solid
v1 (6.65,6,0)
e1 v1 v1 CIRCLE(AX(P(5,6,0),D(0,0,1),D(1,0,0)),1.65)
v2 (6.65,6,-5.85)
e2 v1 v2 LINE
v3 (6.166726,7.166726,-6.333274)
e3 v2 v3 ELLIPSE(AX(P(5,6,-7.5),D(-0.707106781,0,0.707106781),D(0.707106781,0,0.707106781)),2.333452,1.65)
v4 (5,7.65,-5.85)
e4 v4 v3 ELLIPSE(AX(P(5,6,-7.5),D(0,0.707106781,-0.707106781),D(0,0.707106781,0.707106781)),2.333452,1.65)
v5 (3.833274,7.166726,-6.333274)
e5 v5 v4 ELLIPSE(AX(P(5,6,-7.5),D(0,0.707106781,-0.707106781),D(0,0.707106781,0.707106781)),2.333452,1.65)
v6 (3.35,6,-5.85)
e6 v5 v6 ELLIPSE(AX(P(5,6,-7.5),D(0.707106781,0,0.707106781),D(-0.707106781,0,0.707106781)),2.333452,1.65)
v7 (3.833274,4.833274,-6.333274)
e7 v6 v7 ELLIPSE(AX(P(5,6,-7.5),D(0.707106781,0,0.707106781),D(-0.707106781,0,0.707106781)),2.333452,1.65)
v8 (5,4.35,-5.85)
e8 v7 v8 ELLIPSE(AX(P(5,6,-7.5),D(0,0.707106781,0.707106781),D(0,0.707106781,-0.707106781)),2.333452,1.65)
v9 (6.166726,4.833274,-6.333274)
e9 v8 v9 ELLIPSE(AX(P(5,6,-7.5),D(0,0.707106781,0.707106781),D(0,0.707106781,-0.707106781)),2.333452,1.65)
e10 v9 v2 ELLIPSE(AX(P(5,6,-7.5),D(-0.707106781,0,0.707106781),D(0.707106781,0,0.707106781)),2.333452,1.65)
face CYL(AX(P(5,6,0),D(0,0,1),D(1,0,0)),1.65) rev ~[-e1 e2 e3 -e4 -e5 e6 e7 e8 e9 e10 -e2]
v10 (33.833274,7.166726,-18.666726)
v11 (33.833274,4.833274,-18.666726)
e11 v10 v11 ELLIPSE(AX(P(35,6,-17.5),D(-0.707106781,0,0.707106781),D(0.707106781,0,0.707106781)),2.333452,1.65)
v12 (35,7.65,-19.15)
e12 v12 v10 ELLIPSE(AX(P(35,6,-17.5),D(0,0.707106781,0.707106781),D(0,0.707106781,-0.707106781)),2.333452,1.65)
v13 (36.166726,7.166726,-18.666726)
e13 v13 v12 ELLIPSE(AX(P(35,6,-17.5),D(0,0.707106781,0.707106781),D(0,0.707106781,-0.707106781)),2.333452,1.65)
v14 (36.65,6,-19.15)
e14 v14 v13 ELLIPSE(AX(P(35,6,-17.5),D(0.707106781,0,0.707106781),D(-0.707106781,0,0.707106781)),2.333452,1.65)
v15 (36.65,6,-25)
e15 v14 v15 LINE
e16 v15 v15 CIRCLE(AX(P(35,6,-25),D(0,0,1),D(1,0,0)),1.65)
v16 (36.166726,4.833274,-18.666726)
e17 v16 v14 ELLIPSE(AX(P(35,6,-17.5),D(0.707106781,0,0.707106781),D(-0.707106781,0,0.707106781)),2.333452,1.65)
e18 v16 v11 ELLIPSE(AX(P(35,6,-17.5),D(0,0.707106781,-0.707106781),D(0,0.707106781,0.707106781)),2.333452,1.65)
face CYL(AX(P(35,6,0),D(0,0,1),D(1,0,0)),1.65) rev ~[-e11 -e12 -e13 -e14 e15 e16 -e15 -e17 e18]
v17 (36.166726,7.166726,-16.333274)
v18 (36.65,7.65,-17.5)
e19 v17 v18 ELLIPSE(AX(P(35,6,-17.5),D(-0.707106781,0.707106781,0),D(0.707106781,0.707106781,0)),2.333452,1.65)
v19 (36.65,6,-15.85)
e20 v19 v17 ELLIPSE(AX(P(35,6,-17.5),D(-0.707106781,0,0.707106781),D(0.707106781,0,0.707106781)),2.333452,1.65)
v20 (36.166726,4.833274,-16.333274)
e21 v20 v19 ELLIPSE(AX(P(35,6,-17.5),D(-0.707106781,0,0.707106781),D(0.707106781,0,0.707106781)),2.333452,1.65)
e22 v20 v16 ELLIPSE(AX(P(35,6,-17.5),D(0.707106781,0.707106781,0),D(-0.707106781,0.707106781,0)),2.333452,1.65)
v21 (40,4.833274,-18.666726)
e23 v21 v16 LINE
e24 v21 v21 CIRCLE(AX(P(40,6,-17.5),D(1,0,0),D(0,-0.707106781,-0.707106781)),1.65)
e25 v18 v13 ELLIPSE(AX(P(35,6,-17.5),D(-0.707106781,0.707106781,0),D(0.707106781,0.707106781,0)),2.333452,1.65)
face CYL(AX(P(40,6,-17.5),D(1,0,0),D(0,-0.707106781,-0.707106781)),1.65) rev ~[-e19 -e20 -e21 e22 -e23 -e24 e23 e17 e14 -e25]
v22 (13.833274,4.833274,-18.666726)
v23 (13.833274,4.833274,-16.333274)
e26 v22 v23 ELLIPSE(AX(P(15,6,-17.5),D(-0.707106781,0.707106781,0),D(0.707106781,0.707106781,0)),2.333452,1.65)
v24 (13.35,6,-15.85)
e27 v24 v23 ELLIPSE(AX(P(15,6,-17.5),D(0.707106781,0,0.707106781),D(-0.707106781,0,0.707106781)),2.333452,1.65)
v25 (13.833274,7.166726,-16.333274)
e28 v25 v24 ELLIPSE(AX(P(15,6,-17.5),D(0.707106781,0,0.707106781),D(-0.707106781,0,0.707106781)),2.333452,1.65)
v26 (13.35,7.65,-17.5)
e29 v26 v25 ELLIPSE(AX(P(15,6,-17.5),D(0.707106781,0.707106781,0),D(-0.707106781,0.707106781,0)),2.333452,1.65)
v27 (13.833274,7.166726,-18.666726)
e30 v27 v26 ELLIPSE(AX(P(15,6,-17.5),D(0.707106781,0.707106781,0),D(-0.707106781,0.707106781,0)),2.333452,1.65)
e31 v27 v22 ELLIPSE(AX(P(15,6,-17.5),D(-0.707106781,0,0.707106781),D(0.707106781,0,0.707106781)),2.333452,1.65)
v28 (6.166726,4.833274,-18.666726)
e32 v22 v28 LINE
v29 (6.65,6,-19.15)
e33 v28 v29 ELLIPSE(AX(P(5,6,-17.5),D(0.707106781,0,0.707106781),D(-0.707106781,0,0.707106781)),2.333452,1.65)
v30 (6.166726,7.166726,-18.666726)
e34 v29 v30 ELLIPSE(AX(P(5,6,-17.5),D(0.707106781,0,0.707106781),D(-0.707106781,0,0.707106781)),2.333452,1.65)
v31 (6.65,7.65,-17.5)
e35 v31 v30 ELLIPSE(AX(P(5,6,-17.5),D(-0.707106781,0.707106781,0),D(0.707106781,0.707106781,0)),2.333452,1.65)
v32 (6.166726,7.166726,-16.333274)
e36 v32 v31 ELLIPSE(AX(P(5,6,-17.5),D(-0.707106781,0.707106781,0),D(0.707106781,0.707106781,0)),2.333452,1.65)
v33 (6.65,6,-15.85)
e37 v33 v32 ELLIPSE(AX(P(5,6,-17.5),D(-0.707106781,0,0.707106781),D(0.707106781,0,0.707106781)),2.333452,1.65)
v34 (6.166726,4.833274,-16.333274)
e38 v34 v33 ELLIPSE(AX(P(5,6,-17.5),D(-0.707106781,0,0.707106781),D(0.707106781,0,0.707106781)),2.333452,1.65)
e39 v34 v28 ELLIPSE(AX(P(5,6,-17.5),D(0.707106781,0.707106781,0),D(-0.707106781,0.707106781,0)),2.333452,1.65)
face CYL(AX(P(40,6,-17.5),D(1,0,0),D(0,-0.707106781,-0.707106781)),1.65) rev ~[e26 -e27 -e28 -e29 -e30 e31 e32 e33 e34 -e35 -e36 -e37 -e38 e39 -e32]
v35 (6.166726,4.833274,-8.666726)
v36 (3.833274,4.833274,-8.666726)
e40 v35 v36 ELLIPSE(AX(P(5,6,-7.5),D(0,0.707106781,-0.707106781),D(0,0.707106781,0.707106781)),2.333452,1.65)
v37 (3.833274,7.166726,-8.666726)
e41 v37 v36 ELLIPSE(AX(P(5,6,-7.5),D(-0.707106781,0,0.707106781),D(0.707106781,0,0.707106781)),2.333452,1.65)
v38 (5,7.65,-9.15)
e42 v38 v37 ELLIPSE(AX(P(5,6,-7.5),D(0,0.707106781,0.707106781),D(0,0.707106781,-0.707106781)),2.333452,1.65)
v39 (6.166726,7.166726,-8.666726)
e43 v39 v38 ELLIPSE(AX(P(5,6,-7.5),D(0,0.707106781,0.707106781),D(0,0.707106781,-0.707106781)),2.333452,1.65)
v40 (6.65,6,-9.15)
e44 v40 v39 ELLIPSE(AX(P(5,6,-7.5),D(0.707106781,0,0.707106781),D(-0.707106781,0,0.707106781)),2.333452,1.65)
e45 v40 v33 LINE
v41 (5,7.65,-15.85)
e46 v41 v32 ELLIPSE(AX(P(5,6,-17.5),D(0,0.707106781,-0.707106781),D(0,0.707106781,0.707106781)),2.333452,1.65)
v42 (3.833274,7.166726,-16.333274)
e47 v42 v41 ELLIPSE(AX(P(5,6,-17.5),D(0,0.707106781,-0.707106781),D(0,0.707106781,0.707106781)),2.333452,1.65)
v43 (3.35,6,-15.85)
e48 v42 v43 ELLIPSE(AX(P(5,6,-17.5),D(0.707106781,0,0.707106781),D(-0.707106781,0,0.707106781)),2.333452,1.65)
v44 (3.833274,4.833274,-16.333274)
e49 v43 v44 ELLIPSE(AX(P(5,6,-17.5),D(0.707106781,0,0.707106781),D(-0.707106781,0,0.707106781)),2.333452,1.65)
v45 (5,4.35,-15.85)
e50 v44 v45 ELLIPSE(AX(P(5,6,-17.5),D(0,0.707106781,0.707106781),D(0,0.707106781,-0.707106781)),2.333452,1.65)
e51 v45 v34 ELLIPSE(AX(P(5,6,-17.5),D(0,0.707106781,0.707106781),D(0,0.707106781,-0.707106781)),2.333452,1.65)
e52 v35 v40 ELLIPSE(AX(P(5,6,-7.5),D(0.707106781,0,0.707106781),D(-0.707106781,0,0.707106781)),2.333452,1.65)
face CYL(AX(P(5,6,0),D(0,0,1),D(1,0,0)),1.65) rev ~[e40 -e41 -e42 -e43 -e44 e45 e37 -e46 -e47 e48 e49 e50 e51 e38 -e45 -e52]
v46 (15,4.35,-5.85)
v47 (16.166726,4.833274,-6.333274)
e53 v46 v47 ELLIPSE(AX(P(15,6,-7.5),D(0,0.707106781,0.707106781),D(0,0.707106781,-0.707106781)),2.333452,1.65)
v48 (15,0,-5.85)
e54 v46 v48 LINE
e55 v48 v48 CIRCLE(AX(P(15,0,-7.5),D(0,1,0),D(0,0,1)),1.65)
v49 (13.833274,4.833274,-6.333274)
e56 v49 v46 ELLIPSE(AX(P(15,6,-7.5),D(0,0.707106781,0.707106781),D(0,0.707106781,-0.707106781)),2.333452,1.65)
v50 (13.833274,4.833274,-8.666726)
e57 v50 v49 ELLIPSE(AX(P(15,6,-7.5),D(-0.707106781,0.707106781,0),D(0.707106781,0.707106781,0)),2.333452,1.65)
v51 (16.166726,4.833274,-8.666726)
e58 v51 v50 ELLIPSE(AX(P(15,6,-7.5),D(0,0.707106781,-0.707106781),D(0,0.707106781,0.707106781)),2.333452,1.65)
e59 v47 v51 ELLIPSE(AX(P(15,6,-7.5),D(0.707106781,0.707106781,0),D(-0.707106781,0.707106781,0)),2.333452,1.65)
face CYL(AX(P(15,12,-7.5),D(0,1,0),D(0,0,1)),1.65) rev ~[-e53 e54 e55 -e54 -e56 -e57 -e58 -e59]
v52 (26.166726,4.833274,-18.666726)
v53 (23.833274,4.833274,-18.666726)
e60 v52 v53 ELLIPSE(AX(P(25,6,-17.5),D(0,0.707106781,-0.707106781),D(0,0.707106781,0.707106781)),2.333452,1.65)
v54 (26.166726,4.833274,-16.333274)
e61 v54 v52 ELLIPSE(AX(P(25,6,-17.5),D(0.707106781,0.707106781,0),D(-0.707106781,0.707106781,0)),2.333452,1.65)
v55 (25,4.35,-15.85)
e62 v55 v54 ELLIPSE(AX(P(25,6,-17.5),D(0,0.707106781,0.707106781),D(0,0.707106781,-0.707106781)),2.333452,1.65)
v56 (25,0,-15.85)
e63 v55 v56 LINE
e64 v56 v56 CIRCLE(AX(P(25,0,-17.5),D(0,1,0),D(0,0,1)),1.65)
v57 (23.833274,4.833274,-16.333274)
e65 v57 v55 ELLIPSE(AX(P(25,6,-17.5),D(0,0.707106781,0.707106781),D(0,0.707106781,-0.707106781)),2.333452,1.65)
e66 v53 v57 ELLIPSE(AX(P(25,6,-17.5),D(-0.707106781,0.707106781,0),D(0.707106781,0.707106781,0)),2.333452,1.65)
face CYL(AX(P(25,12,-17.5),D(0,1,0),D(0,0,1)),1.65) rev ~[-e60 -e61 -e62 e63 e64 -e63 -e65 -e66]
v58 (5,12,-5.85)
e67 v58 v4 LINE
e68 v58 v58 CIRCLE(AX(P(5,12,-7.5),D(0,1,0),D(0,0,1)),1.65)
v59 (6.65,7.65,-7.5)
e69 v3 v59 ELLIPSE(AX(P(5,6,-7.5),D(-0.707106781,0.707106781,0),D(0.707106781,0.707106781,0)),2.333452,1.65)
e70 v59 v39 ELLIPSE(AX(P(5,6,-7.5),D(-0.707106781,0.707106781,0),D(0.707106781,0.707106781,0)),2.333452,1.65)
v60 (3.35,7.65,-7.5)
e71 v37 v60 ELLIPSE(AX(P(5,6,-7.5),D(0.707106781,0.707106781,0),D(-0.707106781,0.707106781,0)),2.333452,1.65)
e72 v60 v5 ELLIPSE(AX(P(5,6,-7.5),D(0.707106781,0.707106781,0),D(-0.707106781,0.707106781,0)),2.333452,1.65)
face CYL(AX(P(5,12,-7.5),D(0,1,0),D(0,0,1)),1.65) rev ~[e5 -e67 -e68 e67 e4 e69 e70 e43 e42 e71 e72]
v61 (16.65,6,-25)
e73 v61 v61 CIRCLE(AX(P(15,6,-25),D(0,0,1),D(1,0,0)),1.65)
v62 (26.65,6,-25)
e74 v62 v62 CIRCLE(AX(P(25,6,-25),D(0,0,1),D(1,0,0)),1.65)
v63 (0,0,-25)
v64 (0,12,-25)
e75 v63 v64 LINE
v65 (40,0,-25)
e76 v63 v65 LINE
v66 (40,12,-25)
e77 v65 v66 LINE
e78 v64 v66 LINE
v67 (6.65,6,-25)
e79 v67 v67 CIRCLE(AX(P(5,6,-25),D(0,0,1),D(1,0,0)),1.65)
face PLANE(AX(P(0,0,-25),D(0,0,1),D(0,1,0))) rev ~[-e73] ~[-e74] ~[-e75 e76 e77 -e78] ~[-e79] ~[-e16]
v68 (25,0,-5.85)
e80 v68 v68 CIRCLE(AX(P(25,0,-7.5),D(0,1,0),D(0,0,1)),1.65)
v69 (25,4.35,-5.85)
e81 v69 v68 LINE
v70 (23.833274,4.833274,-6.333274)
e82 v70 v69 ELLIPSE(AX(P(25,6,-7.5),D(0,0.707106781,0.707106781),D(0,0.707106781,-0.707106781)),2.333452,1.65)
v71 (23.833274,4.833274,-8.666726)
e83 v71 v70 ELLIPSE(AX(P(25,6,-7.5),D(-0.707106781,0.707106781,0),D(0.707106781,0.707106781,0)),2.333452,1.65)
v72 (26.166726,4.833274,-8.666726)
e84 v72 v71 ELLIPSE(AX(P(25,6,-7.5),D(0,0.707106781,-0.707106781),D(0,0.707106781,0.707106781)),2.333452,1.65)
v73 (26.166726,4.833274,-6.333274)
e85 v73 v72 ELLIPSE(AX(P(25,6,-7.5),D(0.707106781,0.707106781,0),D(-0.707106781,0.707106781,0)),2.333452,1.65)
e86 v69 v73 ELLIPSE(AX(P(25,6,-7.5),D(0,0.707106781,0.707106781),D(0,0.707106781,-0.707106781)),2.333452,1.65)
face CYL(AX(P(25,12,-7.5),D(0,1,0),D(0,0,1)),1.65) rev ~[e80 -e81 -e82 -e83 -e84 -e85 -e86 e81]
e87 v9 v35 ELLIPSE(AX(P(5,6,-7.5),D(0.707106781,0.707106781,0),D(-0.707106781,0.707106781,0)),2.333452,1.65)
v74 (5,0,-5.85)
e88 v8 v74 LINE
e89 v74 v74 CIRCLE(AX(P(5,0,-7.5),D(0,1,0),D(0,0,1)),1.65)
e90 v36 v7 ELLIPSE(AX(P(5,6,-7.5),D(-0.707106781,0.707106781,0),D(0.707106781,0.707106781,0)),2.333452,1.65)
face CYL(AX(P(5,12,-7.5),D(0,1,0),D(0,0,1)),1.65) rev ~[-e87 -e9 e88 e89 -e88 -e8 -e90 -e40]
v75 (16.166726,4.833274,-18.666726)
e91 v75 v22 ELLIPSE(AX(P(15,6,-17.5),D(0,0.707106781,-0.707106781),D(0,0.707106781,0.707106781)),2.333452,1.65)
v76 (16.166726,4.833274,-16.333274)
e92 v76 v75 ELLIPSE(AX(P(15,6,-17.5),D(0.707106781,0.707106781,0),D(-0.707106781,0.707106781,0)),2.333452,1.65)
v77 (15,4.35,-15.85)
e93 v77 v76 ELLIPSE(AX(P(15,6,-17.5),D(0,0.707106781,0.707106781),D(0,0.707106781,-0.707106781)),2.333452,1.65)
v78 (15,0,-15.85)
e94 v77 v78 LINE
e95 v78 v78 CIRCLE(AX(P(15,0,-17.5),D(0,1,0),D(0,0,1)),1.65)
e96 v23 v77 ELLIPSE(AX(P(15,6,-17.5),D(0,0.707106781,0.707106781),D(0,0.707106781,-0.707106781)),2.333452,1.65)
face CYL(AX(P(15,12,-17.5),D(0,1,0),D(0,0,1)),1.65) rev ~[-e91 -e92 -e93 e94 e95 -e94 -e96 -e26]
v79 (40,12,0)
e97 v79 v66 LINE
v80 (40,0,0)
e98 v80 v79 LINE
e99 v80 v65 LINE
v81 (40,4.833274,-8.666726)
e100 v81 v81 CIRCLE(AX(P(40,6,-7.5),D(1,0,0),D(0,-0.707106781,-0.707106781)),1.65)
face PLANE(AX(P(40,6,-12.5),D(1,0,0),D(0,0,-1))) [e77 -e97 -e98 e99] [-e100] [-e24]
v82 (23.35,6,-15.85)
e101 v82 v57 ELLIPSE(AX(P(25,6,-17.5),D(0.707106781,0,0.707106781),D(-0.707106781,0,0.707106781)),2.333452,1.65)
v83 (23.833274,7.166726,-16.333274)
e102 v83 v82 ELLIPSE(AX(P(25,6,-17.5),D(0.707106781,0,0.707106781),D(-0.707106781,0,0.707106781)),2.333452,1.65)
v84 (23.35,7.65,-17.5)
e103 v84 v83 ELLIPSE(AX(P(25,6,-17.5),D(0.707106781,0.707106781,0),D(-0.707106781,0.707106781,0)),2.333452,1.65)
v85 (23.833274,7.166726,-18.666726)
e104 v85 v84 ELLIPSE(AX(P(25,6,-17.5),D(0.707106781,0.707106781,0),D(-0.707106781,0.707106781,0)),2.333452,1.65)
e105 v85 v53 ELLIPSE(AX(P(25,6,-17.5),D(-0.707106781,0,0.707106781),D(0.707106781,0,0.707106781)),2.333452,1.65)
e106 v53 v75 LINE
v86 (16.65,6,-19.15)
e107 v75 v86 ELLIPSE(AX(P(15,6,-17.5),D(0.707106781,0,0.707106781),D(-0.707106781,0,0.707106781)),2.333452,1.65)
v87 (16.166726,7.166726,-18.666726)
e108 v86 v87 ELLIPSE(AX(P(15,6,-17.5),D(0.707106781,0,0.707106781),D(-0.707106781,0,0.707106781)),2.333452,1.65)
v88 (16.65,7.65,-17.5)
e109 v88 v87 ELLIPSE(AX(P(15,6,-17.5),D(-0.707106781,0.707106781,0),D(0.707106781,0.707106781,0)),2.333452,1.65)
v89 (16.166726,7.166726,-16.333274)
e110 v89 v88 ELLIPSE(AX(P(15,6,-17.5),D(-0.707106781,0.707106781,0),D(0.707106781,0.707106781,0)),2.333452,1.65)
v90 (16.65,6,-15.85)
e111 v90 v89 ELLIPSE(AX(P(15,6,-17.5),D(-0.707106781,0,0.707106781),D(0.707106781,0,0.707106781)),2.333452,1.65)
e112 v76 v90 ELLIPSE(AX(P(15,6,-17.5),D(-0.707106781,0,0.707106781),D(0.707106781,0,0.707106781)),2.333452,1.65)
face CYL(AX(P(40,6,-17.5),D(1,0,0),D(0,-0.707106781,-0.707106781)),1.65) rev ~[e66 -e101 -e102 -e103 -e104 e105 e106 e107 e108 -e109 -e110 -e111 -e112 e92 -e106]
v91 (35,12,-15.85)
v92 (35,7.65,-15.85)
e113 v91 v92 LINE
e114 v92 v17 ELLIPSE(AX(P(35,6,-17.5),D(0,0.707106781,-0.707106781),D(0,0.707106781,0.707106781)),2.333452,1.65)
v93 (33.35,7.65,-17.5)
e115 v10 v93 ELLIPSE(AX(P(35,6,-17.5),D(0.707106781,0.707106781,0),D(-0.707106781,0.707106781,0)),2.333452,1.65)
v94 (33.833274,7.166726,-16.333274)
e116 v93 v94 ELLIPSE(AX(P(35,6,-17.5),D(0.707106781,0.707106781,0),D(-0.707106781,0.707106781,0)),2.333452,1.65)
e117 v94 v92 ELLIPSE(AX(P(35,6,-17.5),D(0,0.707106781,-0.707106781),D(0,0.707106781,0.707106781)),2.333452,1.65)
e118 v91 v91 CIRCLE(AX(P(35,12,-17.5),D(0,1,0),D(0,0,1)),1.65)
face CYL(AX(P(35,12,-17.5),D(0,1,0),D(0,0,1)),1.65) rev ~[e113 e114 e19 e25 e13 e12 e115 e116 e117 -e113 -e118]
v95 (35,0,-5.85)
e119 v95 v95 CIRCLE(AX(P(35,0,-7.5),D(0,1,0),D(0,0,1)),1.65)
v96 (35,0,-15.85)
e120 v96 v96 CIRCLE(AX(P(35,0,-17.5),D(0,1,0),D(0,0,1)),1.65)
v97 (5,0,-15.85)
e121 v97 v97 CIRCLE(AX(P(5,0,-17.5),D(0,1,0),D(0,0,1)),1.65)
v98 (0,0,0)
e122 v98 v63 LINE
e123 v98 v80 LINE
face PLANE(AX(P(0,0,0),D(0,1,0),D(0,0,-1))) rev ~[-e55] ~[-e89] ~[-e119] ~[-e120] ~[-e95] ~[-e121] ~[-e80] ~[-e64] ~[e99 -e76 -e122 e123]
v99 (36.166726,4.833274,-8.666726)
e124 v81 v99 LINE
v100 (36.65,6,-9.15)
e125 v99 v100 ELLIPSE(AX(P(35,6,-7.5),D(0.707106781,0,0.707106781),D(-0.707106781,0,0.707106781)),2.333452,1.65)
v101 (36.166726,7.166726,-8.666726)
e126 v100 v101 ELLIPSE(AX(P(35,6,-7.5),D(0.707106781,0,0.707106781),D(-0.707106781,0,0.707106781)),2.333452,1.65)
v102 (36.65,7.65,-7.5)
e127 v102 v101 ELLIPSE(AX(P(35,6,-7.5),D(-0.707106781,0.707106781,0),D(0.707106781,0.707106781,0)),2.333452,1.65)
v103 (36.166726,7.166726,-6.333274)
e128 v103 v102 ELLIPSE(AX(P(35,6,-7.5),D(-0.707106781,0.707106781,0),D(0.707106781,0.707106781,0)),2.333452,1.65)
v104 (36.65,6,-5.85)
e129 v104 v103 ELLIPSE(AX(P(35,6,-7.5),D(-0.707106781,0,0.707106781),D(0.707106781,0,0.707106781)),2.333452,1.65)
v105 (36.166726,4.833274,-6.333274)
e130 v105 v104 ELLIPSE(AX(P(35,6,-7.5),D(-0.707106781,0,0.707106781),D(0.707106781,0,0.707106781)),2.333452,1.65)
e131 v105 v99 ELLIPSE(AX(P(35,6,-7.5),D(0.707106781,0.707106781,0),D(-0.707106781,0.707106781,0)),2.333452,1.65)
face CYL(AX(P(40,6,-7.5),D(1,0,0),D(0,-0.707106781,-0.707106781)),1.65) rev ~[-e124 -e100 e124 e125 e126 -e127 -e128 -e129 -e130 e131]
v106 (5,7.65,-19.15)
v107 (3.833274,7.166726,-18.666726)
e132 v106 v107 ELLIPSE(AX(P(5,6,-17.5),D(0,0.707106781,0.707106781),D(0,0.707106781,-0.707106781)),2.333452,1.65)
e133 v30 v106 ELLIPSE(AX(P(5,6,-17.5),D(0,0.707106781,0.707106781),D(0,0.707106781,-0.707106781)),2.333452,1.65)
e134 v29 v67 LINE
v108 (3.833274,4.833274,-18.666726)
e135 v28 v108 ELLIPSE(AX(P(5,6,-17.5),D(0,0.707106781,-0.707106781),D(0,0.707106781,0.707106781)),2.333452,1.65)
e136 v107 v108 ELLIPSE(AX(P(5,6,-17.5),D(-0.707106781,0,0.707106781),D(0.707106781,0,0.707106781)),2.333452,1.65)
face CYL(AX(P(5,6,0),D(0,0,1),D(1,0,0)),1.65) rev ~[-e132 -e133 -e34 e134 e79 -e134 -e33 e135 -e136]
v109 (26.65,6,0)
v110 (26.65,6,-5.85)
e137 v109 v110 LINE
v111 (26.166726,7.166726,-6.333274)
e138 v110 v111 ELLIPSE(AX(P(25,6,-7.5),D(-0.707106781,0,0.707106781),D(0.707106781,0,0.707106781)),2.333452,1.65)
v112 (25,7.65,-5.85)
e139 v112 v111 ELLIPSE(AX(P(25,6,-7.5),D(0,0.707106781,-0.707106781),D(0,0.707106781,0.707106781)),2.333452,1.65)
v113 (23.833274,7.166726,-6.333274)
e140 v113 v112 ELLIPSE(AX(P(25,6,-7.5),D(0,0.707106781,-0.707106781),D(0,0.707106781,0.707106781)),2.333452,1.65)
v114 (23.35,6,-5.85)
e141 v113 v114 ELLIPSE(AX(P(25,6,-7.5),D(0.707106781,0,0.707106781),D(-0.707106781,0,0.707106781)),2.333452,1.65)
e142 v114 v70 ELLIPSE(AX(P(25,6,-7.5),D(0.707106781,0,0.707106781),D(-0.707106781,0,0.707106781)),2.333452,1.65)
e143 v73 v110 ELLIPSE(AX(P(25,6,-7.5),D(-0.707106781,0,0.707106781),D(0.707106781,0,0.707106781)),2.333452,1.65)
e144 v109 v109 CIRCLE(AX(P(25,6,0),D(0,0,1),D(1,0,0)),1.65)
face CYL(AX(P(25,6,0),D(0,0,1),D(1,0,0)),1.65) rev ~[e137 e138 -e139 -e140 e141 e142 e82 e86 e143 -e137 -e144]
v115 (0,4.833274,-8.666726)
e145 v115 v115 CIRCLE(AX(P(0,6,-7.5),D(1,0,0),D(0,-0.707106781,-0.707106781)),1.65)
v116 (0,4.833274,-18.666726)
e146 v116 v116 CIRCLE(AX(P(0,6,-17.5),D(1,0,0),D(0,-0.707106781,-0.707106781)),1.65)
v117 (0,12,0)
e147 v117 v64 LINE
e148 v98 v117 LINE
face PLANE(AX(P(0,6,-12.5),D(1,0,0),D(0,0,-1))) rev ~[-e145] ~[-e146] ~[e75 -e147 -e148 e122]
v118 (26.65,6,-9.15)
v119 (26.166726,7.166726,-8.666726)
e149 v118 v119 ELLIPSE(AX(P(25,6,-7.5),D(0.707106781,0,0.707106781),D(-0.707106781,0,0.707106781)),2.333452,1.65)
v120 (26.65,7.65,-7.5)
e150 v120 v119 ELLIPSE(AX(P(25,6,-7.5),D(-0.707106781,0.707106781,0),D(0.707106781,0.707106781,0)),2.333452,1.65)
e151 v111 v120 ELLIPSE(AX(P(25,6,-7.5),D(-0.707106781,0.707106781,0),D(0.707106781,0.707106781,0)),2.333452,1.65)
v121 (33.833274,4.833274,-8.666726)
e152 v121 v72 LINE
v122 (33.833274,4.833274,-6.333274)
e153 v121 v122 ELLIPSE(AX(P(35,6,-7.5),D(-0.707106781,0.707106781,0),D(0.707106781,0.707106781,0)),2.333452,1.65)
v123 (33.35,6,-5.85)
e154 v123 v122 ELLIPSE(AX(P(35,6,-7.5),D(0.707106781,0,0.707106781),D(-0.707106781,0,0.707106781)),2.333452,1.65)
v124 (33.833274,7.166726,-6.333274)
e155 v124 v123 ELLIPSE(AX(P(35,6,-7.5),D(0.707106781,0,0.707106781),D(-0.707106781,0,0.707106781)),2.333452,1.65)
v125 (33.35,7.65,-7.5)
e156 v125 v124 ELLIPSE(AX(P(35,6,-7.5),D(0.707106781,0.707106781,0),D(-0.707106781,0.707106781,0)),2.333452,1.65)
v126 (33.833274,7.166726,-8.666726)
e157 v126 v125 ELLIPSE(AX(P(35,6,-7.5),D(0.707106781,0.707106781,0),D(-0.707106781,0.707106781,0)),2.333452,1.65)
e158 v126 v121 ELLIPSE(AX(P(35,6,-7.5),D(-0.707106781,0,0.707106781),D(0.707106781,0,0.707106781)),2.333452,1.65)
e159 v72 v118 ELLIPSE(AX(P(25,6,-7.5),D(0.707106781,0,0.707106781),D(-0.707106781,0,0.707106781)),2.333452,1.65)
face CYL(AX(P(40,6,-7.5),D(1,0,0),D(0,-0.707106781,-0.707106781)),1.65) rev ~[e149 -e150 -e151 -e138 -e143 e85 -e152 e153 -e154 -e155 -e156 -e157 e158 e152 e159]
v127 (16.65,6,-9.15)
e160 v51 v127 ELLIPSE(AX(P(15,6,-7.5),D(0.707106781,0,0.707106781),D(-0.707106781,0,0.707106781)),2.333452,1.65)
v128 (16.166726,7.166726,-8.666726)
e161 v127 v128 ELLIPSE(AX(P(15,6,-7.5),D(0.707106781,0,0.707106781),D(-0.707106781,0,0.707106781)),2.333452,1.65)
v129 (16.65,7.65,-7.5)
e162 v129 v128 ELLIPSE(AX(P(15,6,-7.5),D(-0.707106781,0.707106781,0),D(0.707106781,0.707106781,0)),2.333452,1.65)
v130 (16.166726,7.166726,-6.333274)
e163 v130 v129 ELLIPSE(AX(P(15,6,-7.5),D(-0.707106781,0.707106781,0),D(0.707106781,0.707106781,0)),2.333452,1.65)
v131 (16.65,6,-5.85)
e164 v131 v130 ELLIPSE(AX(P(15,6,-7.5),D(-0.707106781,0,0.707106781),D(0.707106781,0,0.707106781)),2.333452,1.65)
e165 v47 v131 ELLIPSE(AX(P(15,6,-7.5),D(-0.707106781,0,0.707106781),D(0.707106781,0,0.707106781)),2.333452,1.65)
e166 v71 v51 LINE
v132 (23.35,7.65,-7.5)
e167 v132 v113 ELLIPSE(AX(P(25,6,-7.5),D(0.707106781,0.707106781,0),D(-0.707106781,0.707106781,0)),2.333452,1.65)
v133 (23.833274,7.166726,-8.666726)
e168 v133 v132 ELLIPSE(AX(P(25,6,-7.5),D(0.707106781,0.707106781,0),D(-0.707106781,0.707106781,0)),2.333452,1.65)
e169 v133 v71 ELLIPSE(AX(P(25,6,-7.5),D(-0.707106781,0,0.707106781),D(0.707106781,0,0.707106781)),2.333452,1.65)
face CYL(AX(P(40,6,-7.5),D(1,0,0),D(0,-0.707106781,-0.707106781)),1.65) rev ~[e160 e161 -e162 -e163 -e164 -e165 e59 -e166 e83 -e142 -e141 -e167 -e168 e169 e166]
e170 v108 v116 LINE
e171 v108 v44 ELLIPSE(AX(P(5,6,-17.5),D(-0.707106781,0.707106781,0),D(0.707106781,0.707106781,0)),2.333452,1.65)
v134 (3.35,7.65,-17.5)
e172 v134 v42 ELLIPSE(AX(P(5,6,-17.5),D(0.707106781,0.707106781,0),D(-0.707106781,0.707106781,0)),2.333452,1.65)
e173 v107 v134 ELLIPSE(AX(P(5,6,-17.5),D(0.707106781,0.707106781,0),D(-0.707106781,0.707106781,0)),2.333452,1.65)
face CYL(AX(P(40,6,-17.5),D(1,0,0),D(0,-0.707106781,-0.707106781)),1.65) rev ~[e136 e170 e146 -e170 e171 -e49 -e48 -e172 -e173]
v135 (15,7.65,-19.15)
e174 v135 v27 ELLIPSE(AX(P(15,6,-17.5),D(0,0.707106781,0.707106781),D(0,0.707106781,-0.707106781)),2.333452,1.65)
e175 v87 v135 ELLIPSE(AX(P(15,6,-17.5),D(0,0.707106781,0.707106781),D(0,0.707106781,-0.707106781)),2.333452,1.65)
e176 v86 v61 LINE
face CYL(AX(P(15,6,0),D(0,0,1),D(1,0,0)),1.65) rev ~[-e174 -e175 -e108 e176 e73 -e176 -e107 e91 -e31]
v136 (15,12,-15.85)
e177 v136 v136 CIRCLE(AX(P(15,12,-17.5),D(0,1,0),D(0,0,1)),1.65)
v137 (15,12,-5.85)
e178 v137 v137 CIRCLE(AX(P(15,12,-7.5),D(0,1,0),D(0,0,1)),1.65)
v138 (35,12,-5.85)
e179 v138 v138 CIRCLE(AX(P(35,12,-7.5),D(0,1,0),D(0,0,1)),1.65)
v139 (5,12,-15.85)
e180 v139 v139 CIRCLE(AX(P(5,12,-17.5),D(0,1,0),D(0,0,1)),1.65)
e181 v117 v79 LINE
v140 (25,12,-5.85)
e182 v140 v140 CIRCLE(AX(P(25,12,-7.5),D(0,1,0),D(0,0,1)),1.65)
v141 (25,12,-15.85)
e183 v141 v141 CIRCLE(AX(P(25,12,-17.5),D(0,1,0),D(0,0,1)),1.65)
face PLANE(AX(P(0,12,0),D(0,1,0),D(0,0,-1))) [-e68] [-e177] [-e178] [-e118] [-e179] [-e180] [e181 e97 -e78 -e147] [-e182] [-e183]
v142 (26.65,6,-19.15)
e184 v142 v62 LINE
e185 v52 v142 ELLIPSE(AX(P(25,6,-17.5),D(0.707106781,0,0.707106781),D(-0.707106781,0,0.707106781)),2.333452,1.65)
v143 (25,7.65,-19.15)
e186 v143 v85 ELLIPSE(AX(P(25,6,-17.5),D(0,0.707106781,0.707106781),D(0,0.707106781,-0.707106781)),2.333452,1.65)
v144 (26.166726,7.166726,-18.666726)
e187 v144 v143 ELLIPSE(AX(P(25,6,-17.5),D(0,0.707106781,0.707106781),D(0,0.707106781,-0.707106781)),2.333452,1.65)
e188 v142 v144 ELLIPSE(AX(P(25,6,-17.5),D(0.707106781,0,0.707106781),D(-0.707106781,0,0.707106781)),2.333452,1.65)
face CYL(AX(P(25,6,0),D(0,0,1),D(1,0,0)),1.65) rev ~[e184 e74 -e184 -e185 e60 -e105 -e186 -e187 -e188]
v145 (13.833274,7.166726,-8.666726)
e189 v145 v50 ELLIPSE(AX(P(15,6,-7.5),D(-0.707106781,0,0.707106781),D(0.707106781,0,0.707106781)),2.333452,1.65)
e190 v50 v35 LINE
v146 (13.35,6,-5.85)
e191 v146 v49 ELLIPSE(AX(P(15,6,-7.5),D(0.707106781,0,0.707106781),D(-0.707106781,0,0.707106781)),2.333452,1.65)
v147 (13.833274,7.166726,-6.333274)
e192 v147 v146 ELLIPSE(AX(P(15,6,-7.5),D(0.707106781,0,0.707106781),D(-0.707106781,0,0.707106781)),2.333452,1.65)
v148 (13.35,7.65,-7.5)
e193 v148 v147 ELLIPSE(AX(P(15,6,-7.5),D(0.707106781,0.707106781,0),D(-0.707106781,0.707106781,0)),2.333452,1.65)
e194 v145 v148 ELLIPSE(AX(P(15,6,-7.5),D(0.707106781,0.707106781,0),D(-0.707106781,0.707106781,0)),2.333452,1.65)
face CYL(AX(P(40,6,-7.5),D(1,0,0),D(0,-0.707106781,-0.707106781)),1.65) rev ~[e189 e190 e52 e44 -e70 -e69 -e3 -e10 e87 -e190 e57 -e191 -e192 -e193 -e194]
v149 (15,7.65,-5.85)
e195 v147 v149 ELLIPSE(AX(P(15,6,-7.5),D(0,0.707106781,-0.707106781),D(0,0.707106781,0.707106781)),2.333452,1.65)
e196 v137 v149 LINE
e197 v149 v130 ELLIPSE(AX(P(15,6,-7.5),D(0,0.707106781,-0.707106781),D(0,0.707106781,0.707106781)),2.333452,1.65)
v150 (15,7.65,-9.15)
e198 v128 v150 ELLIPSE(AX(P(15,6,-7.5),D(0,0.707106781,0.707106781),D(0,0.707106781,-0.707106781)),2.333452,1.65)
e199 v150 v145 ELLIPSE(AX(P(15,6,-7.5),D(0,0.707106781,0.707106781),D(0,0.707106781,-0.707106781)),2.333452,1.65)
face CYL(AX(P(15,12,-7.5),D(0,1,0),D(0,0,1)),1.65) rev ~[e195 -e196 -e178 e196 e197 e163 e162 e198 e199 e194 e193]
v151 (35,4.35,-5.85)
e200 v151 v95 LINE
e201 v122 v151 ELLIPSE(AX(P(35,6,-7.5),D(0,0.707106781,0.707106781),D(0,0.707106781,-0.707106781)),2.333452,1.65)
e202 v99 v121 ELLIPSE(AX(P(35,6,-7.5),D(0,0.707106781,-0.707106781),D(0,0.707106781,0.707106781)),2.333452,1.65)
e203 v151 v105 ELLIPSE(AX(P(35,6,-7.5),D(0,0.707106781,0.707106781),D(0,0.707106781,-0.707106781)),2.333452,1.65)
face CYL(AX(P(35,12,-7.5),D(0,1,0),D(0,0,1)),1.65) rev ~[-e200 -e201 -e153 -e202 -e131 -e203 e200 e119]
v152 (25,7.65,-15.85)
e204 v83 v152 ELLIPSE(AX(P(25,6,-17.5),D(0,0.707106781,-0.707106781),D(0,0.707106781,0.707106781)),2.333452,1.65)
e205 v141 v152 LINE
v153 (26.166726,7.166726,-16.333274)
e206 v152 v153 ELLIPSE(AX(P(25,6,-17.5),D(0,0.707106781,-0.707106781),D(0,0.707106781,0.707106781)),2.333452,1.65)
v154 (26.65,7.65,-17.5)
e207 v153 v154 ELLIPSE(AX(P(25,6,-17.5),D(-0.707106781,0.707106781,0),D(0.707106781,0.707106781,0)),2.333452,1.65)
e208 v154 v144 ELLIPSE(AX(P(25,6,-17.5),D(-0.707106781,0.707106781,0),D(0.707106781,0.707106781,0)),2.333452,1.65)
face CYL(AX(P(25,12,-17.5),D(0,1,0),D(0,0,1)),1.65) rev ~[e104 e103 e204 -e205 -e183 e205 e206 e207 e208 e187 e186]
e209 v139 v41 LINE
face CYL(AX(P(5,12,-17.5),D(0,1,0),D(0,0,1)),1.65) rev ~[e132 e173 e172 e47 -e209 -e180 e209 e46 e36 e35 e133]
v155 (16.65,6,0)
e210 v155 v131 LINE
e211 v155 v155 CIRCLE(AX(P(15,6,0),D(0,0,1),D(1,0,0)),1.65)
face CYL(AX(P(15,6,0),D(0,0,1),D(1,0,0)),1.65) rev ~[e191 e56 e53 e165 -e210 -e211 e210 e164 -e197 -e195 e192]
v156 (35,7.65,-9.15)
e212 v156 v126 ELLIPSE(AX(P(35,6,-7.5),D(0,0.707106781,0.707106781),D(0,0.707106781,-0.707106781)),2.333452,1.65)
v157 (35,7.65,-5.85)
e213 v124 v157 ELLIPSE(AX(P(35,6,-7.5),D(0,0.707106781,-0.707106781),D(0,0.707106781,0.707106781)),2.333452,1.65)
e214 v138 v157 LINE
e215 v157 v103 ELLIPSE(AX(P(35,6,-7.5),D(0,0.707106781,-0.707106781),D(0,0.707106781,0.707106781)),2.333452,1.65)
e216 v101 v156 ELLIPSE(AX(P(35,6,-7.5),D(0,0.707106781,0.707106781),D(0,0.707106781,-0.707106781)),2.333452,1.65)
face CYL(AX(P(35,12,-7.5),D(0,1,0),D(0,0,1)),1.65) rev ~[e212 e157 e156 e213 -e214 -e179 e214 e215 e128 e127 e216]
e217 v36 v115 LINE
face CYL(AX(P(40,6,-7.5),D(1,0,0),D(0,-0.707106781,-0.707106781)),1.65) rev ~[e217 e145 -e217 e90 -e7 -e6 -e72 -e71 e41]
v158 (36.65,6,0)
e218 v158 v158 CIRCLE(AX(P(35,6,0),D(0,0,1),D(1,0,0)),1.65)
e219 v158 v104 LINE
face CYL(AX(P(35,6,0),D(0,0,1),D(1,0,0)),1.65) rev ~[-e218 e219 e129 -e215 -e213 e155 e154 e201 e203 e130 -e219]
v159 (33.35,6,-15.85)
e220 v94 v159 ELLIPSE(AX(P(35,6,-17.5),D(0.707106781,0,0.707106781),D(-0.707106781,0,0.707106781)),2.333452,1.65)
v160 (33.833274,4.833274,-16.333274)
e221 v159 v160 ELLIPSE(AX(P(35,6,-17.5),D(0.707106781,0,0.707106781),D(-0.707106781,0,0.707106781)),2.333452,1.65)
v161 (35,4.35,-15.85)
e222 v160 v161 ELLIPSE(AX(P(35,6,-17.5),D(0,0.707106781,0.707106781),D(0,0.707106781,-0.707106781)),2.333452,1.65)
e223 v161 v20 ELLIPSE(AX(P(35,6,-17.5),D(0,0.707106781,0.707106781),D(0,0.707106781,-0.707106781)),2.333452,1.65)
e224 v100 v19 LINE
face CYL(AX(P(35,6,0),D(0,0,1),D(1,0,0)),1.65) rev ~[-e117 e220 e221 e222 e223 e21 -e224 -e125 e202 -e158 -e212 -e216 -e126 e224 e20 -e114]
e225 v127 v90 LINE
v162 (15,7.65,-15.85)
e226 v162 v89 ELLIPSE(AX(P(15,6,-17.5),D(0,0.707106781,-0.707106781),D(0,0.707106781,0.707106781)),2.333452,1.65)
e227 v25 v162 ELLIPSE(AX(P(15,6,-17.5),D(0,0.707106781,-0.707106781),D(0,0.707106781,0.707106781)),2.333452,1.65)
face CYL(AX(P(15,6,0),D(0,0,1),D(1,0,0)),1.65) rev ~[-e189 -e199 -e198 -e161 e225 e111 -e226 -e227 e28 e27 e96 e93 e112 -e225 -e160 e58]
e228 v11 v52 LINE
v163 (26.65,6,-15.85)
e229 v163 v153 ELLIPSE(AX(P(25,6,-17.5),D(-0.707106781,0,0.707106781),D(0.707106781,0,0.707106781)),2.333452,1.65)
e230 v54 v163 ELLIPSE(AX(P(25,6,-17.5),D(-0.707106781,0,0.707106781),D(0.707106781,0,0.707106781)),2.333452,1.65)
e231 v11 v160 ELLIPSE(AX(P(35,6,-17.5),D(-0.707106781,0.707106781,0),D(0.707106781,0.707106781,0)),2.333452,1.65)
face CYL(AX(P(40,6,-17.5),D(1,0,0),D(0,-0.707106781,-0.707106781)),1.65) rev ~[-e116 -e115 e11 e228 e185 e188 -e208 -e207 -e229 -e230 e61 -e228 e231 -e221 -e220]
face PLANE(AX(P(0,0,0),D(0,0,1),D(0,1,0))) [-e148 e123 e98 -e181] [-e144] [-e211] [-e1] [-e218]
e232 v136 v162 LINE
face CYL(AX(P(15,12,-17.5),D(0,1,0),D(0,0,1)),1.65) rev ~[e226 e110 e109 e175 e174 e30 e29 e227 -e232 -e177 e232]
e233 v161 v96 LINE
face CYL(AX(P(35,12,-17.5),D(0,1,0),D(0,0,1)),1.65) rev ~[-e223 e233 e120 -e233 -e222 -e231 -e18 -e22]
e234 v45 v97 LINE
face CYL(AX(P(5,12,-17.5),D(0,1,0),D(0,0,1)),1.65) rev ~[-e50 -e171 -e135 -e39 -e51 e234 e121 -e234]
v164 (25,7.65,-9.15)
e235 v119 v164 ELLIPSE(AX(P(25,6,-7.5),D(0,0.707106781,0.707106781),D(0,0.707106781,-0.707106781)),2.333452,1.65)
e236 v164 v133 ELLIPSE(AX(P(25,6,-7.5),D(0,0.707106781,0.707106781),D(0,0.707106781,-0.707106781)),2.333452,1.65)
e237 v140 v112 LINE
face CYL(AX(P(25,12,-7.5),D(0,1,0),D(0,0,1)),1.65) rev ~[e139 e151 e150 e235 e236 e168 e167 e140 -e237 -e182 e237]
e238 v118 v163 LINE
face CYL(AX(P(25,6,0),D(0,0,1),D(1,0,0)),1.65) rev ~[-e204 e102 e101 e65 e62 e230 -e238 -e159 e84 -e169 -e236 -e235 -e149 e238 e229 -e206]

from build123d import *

# Parameters (mm, degrees)
ESQUISSE1_W             = 25
ESQUISSE1_H             = 12
BOSS_EXTRU_1_DEPTH      = 40
ESQUISSE2_R             = 1.65
ENL_V_MAT_EXTRU_1_DEPTH = 49.672374095
ESQUISSE3_R             = 1.65
ENL_V_MAT_EXTRU_2_DEPTH = 40
ESQUISSE4_R             = 1.65
ENL_V_MAT_EXTRU_3_DEPTH = 40


with BuildPart() as part:
    # Esquisse1 → Boss.-Extru.1 (new body)
    with BuildSketch(Plane(origin=(0, 0, 0), x_dir=(0, 0, -1), z_dir=(1, 0, 0))):
        with Locations((12.5, 6)):
            Rectangle(ESQUISSE1_W, ESQUISSE1_H)
    extrude(amount=BOSS_EXTRU_1_DEPTH)

    # Esquisse2 → Enlèv. mat.-Extru.1 (cut, through all)
    with BuildSketch(Plane(origin=(0, 12, 0), x_dir=(1, 0, 0), z_dir=(0, 1, 0))):
        with Locations(Location((5, 17.5, 0), (0, 0, 270))):
            Circle(ESQUISSE2_R)
        with Locations(Location((15, 17.5, 0), (0, 0, 270))):
            Circle(ESQUISSE2_R)
        with Locations(Location((25, 17.5, 0), (0, 0, 270))):
            Circle(ESQUISSE2_R)
        with Locations(Location((35, 17.5, 0), (0, 0, 270))):
            Circle(ESQUISSE2_R)
        with Locations(Location((5, 7.5, 0), (0, 0, 270))):
            Circle(ESQUISSE2_R)
        with Locations(Location((15, 7.5, 0), (0, 0, 270))):
            Circle(ESQUISSE2_R)
        with Locations(Location((35, 7.5, 0), (0, 0, 270))):
            Circle(ESQUISSE2_R)
        with Locations(Location((25, 7.5, 0), (0, 0, 270))):
            Circle(ESQUISSE2_R)
    extrude(amount=-ENL_V_MAT_EXTRU_1_DEPTH, mode=Mode.SUBTRACT)

    # Esquisse3 → Enlèv. mat.-Extru.2 (cut)
    with BuildSketch(Plane.XY):
        with Locations((5, 6)):
            Circle(ESQUISSE3_R)
        with Locations((15, 6)):
            Circle(ESQUISSE3_R)
        with Locations((25, 6)):
            Circle(ESQUISSE3_R)
        with Locations((35, 6)):
            Circle(ESQUISSE3_R)
    extrude(amount=-ENL_V_MAT_EXTRU_2_DEPTH, mode=Mode.SUBTRACT)

    # Esquisse4 → Enlèv. mat.-Extru.3 (cut)
    with BuildSketch(Plane(origin=(40, 0, 0), x_dir=(0, 0, -1), z_dir=(1, 0, 0))):
        with Locations(Location((17.5, 6, 0), (0, 0, 315))):
            Circle(ESQUISSE4_R)
        with Locations(Location((7.5, 6, 0), (0, 0, 315))):
            Circle(ESQUISSE4_R)
    extrude(amount=-ENL_V_MAT_EXTRU_3_DEPTH, mode=Mode.SUBTRACT)


solid = part.part
